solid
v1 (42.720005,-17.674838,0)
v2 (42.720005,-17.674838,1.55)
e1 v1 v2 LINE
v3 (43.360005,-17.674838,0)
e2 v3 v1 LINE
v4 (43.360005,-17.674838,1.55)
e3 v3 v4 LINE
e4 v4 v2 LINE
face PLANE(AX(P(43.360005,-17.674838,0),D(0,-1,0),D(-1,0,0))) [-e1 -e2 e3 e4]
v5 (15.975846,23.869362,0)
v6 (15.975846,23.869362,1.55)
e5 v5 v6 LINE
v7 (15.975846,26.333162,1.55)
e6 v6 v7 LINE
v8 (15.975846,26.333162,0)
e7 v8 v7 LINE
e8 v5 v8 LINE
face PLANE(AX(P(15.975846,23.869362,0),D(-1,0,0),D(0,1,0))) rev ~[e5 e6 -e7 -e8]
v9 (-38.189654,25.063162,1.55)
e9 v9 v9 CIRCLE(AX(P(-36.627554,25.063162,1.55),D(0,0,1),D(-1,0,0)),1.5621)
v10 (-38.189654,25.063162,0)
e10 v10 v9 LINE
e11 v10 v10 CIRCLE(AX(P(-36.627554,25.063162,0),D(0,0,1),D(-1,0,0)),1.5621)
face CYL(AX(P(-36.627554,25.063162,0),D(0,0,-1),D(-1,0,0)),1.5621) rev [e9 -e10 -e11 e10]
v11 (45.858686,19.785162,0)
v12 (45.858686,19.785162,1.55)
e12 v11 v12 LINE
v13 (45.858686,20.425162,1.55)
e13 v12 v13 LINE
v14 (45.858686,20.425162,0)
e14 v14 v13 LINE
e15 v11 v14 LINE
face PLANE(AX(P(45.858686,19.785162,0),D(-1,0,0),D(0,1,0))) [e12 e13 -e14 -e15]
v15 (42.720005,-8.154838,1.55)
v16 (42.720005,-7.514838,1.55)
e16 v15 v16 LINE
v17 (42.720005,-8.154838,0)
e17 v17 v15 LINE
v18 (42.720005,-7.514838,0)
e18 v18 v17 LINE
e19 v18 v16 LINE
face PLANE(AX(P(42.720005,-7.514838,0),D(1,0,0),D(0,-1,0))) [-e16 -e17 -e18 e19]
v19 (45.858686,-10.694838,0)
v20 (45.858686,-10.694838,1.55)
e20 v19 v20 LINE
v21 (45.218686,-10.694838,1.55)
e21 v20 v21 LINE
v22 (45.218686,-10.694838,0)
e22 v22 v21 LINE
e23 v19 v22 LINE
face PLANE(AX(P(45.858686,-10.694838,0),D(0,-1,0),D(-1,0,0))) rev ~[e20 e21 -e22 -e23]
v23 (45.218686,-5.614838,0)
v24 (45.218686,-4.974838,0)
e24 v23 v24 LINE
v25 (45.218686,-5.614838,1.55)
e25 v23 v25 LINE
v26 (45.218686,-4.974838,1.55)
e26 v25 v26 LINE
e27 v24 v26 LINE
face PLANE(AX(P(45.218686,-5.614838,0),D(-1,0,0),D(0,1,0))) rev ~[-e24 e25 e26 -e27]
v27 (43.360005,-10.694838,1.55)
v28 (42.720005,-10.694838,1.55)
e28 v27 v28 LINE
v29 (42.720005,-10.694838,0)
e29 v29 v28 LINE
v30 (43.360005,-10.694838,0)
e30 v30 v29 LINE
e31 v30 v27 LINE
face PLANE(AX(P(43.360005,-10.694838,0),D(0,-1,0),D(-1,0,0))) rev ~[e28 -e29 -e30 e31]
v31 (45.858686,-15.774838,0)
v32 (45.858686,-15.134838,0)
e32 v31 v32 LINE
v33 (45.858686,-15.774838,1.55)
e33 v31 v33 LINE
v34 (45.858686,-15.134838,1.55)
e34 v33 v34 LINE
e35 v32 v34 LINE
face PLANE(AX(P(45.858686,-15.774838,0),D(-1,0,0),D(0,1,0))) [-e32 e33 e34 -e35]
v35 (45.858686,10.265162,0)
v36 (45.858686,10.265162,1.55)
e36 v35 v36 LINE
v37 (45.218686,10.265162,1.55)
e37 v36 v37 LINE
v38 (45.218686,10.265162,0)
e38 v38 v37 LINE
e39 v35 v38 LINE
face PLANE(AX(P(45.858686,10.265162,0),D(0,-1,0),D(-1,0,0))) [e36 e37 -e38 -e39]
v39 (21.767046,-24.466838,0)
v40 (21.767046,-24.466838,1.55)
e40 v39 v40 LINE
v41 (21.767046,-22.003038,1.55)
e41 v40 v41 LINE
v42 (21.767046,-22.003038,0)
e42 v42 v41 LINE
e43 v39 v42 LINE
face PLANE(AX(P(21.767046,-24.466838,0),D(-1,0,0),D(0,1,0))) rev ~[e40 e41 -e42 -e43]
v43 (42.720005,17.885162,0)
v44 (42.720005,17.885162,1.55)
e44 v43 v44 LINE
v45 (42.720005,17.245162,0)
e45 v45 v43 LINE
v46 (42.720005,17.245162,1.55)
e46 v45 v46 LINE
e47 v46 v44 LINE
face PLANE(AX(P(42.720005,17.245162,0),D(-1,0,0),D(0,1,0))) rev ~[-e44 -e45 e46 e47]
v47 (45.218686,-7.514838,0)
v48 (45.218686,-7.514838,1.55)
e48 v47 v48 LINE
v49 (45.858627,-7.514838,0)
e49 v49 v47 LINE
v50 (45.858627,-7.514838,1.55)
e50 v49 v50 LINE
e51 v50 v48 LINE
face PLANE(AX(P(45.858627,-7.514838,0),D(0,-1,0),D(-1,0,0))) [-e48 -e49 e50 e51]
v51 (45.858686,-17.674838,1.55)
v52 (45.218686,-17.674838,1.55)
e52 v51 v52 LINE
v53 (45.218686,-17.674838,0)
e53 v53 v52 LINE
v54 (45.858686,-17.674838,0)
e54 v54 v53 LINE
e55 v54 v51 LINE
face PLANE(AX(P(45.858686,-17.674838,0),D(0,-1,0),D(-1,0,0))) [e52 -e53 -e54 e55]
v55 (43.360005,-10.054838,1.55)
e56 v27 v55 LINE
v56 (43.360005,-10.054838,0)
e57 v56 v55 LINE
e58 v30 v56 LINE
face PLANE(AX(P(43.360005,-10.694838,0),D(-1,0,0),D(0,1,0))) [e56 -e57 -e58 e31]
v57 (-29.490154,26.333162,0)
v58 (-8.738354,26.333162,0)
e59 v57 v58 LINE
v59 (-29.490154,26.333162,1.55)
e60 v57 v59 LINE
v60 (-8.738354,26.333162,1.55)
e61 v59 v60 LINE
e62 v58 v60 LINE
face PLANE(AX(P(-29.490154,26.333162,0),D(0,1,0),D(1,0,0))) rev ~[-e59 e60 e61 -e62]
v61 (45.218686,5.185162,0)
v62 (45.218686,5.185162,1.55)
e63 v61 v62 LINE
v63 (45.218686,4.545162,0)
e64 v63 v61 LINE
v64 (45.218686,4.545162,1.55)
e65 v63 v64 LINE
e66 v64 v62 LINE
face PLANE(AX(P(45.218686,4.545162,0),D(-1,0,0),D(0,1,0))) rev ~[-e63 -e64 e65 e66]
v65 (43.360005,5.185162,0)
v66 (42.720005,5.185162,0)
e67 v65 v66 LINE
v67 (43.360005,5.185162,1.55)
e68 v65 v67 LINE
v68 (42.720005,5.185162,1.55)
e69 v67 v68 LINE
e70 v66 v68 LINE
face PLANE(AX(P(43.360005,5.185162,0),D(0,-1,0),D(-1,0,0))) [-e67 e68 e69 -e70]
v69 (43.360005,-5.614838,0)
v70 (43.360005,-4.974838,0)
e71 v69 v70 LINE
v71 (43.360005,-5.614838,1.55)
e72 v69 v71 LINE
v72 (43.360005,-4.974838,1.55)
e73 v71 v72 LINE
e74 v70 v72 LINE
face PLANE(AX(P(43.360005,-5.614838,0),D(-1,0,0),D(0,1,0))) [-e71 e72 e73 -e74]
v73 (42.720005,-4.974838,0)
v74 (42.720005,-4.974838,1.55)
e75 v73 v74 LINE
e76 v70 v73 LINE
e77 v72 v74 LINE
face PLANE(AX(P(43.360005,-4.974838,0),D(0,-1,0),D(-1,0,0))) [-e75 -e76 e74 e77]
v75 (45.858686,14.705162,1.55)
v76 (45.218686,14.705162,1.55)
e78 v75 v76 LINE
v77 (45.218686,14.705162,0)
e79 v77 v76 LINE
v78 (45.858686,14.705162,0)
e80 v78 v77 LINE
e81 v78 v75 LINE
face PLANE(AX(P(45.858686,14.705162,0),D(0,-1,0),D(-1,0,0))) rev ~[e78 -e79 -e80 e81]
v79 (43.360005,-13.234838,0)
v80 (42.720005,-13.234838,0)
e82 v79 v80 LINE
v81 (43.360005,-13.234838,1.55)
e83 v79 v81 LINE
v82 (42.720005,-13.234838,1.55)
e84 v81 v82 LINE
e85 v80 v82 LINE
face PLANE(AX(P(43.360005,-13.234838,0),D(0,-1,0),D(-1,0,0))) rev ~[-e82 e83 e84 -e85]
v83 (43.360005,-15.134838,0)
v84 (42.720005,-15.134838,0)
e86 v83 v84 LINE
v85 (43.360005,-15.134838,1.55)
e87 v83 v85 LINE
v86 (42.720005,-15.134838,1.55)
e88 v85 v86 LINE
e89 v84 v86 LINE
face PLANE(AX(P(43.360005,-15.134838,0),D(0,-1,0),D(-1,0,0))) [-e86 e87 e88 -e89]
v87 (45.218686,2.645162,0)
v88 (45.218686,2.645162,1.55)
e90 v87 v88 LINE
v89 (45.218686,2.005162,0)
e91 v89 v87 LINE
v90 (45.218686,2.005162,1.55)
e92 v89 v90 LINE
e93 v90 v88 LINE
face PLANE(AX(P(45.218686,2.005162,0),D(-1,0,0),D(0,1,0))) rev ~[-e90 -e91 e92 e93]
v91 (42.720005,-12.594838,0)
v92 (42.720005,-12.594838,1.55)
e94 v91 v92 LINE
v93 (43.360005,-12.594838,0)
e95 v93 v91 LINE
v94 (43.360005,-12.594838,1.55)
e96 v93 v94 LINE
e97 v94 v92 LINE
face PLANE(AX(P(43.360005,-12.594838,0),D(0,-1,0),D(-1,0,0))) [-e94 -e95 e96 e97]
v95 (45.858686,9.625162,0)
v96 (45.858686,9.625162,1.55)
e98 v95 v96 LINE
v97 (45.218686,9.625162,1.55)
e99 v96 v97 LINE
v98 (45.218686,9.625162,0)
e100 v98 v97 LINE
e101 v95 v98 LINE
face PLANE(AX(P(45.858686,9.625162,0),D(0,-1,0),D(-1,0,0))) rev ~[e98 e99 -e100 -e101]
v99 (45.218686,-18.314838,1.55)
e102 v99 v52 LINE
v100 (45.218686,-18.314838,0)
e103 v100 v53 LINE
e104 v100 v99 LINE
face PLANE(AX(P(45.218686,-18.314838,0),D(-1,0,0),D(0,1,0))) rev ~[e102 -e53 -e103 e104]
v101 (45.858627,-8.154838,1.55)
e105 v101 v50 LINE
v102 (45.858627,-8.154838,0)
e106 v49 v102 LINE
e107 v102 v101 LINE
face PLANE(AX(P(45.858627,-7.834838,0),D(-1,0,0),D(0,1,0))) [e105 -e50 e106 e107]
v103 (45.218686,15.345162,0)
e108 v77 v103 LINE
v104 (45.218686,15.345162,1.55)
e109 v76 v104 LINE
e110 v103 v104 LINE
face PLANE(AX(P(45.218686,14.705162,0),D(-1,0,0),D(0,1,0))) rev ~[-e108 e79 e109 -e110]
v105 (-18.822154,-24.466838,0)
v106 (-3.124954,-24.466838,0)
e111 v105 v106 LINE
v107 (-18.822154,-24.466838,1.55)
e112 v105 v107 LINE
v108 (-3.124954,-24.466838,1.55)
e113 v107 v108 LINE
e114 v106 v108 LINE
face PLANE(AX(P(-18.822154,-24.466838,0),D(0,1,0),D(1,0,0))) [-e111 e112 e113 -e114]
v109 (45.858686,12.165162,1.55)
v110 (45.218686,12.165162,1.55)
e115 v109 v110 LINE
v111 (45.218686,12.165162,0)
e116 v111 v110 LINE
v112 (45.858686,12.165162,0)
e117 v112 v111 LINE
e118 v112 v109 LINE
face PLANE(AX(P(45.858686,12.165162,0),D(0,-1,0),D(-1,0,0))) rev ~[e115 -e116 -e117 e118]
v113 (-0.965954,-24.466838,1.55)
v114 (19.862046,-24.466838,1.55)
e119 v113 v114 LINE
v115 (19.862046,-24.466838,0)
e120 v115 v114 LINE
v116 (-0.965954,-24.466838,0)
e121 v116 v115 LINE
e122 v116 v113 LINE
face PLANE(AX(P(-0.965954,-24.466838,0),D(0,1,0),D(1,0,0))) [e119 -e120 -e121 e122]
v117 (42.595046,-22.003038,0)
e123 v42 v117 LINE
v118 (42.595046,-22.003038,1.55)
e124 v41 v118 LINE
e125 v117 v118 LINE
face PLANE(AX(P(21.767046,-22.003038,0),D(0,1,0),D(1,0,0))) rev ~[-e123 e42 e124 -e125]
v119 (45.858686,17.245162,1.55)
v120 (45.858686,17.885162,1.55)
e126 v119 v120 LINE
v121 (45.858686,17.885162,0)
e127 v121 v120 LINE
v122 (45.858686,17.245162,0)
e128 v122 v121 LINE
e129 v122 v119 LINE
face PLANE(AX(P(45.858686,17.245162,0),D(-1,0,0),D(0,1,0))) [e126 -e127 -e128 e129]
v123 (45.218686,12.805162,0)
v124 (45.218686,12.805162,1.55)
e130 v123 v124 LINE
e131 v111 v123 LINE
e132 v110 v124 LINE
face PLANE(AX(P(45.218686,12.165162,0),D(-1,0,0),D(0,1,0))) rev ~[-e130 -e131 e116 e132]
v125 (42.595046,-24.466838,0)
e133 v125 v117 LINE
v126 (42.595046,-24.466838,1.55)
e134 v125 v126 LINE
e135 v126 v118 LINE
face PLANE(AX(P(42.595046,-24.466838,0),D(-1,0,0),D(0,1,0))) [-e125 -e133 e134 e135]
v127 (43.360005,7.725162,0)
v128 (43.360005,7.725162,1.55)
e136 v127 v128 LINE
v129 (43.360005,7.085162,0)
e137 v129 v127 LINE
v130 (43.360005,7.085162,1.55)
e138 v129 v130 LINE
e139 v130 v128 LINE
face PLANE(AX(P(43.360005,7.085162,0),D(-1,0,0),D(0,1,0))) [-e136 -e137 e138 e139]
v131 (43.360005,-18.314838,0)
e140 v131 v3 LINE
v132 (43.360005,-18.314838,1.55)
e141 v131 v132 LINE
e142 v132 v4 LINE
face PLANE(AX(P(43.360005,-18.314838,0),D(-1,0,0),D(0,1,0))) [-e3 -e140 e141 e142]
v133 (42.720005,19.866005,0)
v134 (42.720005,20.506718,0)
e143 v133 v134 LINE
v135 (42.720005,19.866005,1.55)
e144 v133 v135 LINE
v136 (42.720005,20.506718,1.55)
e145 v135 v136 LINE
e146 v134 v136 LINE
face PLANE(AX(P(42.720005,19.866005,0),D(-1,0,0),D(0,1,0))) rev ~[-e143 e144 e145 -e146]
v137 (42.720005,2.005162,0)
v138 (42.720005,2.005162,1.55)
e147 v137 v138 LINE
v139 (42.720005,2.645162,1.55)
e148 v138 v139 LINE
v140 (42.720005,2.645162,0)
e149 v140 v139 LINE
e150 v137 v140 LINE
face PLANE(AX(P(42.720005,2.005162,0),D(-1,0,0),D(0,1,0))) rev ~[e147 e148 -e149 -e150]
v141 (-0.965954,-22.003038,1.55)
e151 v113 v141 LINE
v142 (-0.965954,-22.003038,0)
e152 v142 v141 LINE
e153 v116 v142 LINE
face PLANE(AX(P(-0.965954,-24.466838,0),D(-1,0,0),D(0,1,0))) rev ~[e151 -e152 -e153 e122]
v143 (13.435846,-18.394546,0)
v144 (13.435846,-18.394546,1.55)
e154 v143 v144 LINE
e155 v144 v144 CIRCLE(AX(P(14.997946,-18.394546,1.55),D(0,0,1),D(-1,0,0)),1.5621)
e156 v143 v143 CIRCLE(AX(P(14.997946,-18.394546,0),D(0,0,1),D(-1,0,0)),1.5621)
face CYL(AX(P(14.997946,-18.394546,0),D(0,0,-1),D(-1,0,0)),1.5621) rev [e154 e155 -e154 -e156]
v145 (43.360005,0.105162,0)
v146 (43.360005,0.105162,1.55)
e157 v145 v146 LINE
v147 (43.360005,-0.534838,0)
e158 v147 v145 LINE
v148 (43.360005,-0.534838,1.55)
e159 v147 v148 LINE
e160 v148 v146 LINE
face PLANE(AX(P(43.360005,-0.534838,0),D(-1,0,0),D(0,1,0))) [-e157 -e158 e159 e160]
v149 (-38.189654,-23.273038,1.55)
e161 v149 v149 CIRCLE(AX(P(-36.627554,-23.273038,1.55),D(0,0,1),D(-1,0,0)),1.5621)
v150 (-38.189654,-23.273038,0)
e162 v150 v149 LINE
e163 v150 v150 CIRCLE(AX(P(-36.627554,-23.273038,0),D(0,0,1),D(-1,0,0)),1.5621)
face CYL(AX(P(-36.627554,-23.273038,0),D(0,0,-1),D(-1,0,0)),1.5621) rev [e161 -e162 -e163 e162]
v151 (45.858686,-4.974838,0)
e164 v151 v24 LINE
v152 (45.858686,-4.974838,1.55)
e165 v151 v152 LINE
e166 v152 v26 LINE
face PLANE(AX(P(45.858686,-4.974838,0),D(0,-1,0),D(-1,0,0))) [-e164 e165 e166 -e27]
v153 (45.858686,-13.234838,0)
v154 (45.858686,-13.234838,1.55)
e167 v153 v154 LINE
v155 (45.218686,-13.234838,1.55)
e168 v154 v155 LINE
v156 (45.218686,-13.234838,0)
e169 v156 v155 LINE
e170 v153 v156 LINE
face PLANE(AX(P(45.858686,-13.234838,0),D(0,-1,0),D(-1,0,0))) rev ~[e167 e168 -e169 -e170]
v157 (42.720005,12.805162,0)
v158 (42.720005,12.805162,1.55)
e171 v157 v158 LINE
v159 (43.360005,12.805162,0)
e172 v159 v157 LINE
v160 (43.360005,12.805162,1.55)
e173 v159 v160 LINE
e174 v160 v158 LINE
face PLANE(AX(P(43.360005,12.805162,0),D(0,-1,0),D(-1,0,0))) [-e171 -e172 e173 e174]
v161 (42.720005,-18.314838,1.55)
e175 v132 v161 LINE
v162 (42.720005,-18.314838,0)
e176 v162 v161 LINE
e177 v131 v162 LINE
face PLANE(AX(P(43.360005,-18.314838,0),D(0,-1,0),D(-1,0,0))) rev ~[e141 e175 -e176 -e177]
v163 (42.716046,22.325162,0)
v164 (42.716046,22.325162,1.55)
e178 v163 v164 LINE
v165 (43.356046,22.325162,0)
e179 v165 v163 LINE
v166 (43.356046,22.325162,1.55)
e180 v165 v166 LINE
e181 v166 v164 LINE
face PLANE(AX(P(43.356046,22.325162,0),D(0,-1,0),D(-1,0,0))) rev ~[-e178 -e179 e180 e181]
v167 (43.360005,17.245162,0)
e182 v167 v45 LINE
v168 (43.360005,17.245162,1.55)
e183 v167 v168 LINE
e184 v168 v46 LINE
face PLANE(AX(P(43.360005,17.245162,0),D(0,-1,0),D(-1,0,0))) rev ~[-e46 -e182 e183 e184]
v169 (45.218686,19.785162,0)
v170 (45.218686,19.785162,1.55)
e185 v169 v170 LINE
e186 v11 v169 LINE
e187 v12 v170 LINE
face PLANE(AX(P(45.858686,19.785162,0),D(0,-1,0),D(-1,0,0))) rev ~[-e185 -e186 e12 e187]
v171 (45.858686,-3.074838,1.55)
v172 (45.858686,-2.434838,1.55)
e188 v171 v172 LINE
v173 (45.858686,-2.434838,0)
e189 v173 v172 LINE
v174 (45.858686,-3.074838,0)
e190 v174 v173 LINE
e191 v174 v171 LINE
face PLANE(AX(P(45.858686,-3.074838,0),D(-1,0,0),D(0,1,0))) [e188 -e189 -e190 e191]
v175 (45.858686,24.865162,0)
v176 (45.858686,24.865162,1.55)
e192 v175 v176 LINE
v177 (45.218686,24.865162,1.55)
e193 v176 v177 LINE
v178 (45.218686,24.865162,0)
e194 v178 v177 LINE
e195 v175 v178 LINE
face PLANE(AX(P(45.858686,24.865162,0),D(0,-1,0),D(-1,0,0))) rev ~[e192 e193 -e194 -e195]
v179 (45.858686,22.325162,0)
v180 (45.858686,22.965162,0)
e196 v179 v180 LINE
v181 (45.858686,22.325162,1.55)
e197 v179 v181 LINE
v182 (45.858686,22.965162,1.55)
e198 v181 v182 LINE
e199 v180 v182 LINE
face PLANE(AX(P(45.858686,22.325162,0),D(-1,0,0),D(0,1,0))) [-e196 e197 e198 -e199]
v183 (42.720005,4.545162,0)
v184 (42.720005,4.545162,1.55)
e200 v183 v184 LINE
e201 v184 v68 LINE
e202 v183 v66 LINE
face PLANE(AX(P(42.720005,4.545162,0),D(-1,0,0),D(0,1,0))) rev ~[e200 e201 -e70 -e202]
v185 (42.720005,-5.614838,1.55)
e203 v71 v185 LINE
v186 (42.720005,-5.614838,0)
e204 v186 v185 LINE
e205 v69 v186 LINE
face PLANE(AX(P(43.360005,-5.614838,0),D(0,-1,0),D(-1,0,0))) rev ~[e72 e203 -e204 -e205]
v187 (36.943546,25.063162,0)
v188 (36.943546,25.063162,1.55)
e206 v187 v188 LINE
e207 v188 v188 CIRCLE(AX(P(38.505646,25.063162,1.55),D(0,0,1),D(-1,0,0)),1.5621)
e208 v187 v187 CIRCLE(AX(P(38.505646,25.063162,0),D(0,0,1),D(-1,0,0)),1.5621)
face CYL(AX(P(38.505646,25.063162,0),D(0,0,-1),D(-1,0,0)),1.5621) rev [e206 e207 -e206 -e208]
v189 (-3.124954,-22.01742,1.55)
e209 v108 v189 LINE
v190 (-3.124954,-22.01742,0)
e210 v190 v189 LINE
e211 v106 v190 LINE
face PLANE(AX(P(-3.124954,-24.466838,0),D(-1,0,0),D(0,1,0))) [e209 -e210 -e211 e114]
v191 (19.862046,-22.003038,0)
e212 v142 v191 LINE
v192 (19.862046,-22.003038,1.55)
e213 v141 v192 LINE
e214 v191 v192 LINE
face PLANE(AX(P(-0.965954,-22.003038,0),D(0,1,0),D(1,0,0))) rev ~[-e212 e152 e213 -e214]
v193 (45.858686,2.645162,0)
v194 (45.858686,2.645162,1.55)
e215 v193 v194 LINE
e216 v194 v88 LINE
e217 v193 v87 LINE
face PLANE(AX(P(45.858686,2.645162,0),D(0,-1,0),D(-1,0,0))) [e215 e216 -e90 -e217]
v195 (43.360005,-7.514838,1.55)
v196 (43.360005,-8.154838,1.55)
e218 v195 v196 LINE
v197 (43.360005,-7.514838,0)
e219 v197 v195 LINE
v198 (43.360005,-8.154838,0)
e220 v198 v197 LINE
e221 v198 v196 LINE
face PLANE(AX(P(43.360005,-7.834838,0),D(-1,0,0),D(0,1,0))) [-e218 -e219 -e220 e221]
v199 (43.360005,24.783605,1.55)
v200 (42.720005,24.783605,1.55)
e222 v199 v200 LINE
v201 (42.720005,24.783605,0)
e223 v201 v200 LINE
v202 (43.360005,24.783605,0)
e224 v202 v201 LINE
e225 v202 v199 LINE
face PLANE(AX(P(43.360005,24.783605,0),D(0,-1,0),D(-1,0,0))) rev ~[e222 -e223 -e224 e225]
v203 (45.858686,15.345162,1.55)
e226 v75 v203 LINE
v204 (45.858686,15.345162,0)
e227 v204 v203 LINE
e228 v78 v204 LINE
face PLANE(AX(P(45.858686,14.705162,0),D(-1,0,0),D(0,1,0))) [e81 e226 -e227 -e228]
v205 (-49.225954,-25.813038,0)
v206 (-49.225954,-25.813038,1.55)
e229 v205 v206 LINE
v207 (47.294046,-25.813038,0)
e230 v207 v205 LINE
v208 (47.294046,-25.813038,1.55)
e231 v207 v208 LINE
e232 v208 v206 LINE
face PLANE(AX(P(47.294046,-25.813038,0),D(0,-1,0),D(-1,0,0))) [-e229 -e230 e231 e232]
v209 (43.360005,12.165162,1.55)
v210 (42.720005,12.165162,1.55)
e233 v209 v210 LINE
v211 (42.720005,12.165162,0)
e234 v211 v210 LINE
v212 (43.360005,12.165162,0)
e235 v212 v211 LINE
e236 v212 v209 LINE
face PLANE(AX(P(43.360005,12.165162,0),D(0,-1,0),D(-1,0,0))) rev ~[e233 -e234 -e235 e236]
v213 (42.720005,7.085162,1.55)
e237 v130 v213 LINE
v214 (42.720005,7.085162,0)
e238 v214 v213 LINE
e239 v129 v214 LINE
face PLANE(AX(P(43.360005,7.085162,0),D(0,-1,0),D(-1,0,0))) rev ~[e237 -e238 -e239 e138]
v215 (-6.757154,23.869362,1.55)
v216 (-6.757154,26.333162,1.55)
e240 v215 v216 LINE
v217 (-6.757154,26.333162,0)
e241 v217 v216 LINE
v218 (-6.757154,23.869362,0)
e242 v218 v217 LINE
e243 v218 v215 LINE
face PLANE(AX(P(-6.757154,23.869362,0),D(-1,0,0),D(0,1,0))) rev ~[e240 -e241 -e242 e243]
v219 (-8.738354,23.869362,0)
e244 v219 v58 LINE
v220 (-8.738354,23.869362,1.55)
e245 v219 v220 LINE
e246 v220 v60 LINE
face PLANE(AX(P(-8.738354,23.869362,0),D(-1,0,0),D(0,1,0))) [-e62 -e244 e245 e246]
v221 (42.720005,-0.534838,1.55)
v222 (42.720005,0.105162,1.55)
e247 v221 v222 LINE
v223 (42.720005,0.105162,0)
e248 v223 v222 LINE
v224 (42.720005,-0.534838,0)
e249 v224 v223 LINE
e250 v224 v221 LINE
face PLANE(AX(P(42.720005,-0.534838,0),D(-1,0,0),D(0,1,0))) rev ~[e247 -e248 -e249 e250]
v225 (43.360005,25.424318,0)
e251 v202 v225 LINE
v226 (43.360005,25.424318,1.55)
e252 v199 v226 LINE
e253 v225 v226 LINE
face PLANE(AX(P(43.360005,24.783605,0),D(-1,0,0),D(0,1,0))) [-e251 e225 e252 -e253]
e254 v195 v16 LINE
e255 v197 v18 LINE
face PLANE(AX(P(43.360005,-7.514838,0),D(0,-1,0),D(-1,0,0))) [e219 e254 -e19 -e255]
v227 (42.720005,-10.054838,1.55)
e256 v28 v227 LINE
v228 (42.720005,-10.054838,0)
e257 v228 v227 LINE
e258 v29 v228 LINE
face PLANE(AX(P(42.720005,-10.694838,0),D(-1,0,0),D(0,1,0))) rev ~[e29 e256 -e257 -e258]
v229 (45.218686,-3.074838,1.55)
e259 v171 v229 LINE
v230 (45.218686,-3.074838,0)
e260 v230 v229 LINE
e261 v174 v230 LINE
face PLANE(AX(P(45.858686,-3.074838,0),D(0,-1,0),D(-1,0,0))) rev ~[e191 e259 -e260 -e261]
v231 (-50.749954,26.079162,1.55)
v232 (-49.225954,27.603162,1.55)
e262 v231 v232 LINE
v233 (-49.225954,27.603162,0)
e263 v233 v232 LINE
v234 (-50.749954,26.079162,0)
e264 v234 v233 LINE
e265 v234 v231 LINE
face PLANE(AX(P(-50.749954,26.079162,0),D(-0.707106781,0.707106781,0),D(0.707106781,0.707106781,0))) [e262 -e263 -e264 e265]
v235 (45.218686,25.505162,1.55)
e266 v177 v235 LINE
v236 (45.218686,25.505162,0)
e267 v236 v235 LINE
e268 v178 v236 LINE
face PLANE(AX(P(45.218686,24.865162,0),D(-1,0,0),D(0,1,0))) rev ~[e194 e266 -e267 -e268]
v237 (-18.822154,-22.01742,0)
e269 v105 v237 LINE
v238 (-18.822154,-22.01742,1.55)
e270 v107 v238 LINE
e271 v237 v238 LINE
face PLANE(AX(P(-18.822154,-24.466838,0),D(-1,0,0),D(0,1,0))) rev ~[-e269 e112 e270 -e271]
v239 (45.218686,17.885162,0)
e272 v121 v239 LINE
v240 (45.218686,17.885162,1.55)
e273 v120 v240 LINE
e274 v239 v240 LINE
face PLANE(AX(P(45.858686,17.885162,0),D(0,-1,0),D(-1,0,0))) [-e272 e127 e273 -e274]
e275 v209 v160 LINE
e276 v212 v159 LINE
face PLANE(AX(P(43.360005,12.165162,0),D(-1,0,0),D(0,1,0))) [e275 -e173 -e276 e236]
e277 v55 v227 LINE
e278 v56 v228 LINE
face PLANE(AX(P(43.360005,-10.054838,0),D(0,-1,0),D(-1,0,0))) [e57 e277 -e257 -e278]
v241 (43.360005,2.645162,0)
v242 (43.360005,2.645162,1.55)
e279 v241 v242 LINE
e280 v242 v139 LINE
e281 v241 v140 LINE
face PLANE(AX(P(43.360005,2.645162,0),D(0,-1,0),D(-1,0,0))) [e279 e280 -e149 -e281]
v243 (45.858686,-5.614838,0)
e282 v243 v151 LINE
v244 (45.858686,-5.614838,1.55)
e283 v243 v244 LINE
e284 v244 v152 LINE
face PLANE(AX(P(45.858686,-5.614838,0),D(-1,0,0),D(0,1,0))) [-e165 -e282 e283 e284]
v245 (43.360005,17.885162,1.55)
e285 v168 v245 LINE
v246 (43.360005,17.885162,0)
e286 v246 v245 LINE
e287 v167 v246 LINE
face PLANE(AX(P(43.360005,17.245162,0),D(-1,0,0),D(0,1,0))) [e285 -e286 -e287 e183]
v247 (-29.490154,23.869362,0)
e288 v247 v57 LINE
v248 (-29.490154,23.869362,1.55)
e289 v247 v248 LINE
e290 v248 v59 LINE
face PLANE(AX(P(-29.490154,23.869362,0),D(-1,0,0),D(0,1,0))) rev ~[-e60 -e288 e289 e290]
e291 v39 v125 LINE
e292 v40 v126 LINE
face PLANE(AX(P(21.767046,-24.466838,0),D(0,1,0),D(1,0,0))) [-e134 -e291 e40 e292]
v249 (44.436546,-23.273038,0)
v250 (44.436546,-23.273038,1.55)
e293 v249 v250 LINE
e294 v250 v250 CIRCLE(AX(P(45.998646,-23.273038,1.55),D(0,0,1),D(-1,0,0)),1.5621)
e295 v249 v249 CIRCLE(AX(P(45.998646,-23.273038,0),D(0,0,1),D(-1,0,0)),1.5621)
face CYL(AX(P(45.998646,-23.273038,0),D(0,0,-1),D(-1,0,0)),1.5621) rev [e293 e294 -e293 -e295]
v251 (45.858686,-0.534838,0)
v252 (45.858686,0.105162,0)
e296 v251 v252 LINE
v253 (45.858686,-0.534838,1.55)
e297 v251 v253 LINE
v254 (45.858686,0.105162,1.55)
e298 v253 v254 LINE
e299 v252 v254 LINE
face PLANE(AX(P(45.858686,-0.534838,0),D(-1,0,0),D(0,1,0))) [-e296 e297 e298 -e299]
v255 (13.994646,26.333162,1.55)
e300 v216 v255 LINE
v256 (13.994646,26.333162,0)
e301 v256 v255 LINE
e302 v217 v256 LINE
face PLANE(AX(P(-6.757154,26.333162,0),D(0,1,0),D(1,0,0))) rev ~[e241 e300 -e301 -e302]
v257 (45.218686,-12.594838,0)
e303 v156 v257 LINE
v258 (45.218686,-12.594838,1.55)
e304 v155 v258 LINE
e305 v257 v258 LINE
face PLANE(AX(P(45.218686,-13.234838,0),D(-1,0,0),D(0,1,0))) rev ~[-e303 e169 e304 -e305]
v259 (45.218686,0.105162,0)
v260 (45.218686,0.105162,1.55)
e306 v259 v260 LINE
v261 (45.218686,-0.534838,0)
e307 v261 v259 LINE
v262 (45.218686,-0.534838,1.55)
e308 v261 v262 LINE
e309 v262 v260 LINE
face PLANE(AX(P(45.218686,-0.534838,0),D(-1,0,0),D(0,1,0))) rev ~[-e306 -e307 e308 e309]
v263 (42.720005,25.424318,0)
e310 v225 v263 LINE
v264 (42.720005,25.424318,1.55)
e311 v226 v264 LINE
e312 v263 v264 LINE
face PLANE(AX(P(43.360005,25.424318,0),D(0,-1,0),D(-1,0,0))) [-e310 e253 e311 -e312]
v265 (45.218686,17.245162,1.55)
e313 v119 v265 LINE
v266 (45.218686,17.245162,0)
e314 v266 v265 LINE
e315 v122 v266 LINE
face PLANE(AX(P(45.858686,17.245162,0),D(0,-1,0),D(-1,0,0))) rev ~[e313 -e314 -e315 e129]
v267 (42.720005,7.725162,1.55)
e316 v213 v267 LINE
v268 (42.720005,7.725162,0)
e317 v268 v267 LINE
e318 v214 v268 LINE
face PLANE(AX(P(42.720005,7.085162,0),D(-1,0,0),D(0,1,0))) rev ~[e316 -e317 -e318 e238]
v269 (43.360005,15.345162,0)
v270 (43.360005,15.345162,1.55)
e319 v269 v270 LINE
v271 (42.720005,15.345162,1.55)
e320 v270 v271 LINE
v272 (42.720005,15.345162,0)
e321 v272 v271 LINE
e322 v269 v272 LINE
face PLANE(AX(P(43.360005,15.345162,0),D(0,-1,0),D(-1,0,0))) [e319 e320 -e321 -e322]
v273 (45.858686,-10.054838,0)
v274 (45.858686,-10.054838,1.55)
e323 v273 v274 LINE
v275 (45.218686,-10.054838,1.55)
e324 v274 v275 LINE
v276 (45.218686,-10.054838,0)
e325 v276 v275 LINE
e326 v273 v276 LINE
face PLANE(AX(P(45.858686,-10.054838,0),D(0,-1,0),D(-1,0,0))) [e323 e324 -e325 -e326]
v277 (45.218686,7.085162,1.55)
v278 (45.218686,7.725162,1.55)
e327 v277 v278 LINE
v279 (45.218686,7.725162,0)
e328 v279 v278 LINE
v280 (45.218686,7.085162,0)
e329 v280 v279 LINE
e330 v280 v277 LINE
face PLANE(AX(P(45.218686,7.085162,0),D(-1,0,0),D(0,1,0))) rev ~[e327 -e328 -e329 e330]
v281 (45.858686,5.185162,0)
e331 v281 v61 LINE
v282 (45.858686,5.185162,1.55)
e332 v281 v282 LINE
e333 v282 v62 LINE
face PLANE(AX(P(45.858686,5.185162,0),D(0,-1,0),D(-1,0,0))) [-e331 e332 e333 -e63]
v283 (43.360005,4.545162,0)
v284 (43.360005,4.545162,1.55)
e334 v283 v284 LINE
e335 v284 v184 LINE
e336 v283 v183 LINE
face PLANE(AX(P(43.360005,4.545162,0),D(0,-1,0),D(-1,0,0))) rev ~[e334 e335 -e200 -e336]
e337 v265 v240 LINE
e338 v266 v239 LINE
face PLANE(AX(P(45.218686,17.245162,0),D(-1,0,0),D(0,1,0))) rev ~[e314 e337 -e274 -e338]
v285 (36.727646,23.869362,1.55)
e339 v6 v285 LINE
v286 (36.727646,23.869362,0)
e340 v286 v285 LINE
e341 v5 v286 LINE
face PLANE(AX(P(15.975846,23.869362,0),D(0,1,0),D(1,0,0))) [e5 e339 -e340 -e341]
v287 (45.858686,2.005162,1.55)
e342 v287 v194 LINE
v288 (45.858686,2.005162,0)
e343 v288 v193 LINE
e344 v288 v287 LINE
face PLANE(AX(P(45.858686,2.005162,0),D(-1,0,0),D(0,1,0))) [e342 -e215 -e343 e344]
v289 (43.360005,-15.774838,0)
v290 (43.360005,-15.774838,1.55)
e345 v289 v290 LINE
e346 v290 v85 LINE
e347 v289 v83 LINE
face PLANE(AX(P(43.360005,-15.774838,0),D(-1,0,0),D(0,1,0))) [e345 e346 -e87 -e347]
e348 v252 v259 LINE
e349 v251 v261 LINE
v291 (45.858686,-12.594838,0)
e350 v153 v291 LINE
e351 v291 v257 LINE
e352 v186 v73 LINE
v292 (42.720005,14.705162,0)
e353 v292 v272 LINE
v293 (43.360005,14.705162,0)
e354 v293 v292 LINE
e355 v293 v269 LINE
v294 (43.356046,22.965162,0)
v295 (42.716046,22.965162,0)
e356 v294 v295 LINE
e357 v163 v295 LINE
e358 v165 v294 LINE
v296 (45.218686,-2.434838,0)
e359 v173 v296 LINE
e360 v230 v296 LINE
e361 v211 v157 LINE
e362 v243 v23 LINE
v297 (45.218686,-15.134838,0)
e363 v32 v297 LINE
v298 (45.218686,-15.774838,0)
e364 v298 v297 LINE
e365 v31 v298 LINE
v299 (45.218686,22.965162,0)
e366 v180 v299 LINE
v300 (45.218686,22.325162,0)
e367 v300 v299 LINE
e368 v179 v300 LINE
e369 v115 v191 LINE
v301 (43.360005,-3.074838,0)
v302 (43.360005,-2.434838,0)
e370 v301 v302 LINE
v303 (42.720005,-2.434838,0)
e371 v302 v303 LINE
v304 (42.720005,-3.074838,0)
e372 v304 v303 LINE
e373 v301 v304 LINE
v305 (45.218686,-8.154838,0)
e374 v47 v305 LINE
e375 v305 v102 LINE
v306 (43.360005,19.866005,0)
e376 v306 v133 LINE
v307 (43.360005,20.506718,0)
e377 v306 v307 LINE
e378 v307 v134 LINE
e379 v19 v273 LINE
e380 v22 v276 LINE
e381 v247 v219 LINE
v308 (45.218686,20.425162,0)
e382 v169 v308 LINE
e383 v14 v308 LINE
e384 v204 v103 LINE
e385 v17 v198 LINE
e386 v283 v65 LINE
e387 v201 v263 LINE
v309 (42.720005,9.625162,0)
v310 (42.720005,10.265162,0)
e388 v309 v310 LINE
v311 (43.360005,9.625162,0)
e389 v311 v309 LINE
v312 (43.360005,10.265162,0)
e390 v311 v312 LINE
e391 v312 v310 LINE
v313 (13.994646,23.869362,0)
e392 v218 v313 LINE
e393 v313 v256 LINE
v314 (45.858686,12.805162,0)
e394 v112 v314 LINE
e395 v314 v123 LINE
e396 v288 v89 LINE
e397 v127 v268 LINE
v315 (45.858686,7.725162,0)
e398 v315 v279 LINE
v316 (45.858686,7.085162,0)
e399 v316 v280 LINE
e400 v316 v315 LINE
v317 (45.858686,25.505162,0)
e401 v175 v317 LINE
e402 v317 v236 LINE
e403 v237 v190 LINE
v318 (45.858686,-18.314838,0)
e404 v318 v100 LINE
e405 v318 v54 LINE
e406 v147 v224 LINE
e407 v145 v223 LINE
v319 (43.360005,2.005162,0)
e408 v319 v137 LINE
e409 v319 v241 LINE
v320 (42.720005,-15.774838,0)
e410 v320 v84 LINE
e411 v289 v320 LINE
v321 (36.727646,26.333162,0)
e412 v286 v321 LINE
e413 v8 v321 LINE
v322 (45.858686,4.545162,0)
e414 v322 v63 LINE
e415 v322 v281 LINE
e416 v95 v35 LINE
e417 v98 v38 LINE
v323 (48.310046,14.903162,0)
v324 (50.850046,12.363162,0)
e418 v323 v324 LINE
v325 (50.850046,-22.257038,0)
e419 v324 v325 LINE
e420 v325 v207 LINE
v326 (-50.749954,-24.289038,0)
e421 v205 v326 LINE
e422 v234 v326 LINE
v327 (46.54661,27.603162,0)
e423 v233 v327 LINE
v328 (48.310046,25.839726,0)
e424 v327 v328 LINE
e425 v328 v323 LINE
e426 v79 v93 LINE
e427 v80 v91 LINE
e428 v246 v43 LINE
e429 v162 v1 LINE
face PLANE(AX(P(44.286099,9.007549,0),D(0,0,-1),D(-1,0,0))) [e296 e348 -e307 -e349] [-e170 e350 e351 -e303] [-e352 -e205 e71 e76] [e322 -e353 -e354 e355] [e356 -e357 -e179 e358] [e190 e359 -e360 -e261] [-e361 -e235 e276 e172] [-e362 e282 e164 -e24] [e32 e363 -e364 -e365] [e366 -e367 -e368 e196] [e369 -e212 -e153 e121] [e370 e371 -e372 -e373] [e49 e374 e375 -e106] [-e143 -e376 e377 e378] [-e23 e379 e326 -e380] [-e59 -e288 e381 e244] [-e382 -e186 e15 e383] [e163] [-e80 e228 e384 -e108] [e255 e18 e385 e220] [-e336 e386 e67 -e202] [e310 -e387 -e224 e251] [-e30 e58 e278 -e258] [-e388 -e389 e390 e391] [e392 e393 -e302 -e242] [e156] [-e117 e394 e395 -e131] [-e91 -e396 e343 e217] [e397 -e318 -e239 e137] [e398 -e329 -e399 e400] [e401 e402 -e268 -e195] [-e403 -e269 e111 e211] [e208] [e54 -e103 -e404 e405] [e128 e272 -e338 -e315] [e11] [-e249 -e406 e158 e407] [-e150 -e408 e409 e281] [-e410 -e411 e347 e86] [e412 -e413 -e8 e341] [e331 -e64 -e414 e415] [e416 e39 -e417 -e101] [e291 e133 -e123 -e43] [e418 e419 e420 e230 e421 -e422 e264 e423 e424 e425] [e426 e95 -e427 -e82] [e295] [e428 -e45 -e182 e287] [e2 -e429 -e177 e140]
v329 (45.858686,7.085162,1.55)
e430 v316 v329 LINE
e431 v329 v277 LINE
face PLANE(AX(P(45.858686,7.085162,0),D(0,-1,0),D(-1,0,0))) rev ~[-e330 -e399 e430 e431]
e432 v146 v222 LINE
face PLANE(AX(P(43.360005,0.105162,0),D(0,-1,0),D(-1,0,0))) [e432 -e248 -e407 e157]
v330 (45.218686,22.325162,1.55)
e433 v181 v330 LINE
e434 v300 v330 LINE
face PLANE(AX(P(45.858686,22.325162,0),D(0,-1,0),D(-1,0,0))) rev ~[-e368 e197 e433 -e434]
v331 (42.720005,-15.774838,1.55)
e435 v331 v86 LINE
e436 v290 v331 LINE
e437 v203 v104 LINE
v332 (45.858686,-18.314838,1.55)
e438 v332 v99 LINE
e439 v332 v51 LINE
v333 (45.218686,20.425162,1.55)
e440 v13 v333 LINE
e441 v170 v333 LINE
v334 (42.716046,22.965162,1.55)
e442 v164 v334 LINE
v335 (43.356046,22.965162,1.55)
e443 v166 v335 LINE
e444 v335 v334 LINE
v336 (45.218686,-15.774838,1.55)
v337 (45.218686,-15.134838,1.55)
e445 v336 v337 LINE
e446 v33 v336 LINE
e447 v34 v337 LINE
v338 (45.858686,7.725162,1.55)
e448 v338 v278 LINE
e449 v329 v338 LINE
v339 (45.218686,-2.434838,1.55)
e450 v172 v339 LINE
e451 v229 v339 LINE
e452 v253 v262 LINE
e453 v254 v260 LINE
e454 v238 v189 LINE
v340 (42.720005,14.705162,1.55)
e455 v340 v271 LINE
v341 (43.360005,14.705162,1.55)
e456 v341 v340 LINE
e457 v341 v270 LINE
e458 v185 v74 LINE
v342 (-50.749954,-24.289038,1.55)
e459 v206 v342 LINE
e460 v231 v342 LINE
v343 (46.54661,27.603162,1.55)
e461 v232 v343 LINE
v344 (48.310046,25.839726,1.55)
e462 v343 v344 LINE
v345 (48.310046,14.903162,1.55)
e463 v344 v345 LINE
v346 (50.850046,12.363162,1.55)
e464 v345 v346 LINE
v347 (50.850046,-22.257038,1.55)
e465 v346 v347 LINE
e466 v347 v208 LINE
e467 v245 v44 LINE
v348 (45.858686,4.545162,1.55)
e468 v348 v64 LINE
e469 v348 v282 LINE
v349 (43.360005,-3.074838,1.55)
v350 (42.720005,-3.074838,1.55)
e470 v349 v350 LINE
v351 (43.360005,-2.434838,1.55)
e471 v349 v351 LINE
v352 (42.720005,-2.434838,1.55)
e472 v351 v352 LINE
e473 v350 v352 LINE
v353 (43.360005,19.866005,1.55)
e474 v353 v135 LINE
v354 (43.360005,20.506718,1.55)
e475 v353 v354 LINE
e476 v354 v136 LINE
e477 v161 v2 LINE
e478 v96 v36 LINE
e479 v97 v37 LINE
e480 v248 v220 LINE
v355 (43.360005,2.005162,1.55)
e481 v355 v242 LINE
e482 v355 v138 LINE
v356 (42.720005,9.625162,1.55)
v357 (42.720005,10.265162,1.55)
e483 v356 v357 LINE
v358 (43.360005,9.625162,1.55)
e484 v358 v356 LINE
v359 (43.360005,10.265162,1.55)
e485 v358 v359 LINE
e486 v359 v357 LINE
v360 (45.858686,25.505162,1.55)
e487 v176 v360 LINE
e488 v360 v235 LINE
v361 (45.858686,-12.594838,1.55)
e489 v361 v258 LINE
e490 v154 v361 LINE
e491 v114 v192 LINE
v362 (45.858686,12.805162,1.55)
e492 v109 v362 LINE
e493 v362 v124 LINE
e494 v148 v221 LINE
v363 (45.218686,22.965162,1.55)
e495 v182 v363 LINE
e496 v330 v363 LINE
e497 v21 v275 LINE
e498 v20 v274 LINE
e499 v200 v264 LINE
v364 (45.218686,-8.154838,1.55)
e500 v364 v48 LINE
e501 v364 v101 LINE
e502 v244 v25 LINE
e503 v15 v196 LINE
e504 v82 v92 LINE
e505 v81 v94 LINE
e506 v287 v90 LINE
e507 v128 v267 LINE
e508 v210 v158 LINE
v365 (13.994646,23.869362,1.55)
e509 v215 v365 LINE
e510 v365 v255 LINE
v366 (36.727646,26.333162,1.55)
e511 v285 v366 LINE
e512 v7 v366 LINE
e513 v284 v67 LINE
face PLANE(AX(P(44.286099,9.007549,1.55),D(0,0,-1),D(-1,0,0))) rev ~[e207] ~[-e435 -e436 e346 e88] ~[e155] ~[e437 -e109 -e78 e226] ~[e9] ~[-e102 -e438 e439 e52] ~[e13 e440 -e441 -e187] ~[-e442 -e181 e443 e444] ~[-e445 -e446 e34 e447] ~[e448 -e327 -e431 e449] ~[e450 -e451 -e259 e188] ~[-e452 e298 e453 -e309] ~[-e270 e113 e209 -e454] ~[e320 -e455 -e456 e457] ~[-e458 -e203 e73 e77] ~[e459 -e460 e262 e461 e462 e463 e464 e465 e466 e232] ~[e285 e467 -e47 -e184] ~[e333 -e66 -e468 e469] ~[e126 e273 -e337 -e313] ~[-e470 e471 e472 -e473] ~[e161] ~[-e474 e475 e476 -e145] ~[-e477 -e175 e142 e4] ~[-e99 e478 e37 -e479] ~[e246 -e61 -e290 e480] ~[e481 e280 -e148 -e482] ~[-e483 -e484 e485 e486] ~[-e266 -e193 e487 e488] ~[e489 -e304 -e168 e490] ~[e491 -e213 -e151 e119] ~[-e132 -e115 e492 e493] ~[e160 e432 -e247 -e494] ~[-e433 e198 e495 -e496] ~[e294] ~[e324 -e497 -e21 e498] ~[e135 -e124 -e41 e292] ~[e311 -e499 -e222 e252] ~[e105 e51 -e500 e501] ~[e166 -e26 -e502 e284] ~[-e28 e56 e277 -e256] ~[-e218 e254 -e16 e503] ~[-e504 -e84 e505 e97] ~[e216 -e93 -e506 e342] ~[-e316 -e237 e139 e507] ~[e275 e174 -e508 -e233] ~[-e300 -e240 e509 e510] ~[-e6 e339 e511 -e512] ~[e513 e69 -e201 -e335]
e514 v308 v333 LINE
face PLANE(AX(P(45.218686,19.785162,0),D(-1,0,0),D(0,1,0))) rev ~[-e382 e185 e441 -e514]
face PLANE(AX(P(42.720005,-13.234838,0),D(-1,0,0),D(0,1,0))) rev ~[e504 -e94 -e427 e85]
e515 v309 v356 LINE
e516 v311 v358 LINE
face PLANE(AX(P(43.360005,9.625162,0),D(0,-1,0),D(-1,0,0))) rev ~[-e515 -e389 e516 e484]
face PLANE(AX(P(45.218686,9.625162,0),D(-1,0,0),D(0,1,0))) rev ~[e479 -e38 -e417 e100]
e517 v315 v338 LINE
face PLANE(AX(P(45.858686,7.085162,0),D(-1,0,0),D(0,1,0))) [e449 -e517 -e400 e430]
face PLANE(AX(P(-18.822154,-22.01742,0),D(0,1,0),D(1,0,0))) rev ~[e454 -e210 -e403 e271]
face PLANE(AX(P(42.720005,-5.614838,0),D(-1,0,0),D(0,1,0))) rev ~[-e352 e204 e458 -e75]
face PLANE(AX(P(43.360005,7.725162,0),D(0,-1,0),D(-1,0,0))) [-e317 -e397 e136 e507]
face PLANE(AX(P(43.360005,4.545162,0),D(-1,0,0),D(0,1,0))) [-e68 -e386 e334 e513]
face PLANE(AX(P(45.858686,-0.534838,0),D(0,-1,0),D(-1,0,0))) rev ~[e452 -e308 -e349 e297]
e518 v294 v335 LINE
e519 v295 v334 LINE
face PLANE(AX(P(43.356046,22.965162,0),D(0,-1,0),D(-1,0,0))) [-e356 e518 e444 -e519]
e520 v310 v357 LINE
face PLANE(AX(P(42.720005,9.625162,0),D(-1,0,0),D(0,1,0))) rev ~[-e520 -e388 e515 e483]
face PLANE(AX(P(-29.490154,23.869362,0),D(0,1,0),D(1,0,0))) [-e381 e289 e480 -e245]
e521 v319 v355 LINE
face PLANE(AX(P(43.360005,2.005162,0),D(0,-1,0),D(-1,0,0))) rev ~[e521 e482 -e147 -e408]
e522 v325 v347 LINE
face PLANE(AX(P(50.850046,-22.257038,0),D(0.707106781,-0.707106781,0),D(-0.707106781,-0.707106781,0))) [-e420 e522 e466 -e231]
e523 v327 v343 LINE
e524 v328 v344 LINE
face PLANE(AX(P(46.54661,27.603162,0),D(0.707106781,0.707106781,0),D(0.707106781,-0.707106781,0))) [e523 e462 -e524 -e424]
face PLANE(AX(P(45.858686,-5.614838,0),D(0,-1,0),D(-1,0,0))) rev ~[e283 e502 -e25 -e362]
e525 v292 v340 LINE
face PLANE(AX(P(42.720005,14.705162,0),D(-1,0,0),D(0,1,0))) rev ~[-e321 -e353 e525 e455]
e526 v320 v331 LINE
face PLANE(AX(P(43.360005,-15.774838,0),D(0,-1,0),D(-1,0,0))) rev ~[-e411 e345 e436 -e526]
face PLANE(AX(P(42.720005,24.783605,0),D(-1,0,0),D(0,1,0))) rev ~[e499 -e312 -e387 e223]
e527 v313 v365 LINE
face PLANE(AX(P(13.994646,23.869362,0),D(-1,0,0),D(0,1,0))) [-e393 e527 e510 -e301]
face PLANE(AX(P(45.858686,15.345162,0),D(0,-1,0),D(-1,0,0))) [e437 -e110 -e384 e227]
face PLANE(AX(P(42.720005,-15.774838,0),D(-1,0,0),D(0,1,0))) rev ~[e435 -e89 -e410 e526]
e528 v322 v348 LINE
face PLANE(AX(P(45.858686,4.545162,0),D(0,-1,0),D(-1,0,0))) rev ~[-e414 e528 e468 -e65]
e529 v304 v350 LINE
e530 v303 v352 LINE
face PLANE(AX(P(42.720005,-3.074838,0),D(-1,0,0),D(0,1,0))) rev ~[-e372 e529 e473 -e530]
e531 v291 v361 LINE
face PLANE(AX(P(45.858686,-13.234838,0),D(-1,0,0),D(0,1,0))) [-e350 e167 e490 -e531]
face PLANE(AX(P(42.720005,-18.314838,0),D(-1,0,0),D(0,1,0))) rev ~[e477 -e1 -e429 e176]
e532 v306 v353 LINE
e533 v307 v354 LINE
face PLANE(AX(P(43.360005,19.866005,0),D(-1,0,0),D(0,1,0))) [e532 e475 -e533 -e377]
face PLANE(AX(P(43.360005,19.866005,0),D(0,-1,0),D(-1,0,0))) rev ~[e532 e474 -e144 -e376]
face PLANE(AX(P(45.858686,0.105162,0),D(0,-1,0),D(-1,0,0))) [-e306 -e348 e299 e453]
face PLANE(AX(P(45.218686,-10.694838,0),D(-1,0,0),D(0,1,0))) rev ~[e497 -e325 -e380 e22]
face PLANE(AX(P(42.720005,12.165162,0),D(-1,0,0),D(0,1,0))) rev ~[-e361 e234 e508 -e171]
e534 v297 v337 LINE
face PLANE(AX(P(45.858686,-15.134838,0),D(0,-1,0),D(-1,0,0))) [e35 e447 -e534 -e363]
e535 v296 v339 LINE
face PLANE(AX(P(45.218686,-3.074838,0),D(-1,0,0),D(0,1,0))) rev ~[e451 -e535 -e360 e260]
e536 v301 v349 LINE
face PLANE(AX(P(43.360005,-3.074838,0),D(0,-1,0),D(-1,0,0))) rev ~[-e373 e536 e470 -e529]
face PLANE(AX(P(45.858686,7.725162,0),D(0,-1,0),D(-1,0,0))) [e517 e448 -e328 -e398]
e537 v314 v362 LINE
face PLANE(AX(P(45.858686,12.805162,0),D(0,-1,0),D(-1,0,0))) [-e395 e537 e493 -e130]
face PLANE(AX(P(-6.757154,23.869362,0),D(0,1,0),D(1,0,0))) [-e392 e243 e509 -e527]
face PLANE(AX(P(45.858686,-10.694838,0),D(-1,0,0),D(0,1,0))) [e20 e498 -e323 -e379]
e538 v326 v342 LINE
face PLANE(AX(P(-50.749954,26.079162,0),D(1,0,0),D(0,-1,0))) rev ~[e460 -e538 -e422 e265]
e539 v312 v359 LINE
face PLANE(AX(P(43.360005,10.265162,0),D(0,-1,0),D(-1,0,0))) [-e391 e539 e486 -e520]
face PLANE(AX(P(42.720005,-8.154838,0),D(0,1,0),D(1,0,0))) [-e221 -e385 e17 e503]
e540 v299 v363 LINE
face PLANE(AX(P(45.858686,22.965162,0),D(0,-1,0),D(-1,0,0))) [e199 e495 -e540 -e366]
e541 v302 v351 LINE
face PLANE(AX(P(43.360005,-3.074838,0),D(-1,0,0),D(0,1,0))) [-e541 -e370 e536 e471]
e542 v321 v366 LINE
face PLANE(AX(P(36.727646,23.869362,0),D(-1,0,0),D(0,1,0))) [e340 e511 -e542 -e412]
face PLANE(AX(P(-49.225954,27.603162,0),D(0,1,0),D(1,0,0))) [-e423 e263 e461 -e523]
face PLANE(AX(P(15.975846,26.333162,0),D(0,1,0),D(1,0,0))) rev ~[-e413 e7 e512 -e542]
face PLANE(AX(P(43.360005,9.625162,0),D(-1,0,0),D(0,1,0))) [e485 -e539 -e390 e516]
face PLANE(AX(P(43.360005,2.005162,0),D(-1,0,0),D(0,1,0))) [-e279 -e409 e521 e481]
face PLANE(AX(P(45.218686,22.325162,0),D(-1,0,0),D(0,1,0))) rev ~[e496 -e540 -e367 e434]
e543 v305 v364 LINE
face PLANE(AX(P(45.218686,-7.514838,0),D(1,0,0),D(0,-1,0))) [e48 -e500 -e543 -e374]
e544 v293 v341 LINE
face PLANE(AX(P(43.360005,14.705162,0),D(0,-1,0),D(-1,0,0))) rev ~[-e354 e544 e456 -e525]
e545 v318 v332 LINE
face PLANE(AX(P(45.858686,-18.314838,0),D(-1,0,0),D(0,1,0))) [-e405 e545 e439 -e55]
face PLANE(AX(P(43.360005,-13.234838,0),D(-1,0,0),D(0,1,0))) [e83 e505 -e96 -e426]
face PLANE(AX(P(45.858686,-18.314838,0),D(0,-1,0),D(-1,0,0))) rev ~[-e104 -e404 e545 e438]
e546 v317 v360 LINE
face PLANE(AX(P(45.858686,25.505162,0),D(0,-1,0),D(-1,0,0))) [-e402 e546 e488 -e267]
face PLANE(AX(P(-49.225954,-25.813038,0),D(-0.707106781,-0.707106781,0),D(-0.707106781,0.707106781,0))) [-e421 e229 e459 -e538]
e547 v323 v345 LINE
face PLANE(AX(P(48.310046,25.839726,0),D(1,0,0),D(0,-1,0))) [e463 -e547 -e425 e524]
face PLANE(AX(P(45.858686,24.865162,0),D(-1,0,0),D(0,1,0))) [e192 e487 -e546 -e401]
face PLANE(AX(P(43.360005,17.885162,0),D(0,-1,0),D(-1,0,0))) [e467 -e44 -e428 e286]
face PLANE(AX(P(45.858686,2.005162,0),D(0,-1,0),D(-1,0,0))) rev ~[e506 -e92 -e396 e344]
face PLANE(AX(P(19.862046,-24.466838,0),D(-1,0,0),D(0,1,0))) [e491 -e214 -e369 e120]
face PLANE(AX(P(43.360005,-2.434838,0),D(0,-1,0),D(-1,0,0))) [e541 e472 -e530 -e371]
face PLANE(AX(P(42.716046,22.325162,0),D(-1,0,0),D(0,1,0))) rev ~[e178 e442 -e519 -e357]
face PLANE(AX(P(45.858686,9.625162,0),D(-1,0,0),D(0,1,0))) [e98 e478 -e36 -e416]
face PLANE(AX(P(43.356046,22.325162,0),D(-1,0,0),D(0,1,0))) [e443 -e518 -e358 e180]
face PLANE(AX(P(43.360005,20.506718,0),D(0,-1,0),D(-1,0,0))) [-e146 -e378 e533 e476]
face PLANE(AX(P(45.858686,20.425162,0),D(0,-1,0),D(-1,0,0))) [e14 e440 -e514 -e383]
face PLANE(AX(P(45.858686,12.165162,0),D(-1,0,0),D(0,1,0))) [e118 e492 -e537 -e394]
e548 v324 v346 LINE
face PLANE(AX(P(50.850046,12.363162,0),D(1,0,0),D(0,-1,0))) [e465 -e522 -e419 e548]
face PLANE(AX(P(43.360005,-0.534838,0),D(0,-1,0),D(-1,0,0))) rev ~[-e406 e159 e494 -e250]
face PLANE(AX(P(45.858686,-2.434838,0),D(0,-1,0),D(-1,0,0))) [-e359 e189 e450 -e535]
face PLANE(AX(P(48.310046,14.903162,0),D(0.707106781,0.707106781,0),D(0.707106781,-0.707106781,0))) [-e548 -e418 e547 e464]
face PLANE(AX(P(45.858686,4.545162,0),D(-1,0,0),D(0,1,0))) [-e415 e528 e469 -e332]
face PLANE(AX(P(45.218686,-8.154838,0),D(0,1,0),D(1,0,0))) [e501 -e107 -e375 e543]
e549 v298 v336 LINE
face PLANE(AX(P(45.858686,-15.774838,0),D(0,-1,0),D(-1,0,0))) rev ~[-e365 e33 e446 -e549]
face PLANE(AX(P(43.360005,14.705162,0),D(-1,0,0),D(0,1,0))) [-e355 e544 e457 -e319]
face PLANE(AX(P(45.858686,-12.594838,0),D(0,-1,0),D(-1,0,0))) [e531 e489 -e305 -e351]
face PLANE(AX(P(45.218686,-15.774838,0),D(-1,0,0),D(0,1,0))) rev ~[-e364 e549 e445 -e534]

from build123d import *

# Parameters (mm, degrees)
CROQUIS1_R              = 1.5621
CROQUIS1_W              = 20.7518
CROQUIS1_H              = 2.4638
CROQUIS1_W_2            = 4.9784
CROQUIS1_H_2            = 46.2788
CROQUIS1_W_3            = 20.828
CROQUIS1_W_4            = 15.6972
CROQUIS1_H_3            = 2.449418676
SALIENTE_EXTRUIR1_DEPTH = 1.55
CROQUIS2_W              = 5
CROQUIS2_H              = 46.2788
CORTAR_EXTRUIR1_DEPTH   = 95.55
CROQUIS3_W              = 0.64
CROQUIS3_H              = 0.64
SALIENTE_EXTRUIR2_DEPTH = 1.55
CROQUIS3_3_W            = 0.64
CROQUIS3_3_H            = 0.64
CROQUIS3_3_H_2          = 0.640713362
SALIENTE_EXTRUIR3_DEPTH = 1.55


with BuildPart() as part:
    # Croquis1 → Saliente-Extruir1 (new body)
    with BuildSketch(Plane.XY):
        Polygon((46.546610497, 27.60316171), (48.310045797, 25.83972641), (48.310045797, 14.90316171), (50.850045797, 12.36316171), (50.850045797, -22.25703829), (47.294045797, -25.81303829), (-49.225954203, -25.81303829), (-50.749954203, -24.28903829), (-50.749954203, -22.00303829), (-50.749954203, -12.85903829), (-50.749954203, 6.39416171), (-50.749954203, 18.33216171), (-50.749954203, 26.07916171), (-49.225954203, 27.60316171), align=None)
        with Locations(Location((-36.627554203, -23.27303829, 0), (0, 0, 180))):
            Circle(CROQUIS1_R, mode=Mode.SUBTRACT)
        with Locations(Location((14.997945797, -18.394545523, 0), (0, 0, 180))):
            Circle(CROQUIS1_R, mode=Mode.SUBTRACT)
        with Locations(Location((45.998645797, -23.27303829, 0), (0, 0, 180))):
            Circle(CROQUIS1_R, mode=Mode.SUBTRACT)
        with Locations(Location((-36.627554203, 25.06316171, 0), (0, 0, 180))):
            Circle(CROQUIS1_R, mode=Mode.SUBTRACT)
        with Locations(Location((38.505645797, 25.06316171, 0), (0, 0, 180))):
            Circle(CROQUIS1_R, mode=Mode.SUBTRACT)
        with Locations((-19.114254203, 25.10126171)):
            Rectangle(CROQUIS1_W, CROQUIS1_H, mode=Mode.SUBTRACT)
        with Locations((3.618745797, 25.10126171)):
            Rectangle(CROQUIS1_W, CROQUIS1_H, mode=Mode.SUBTRACT)
        with Locations((26.351745797, 25.10126171)):
            Rectangle(CROQUIS1_W, CROQUIS1_H, mode=Mode.SUBTRACT)
        with Locations((44.296845797, 3.24456171)):
            Rectangle(CROQUIS1_W_2, CROQUIS1_H_2, mode=Mode.SUBTRACT)
        with Locations((32.181045797, -23.23493829)):
            Rectangle(CROQUIS1_W_3, CROQUIS1_H, mode=Mode.SUBTRACT)
        with Locations((9.448045797, -23.23493829)):
            Rectangle(CROQUIS1_W_3, CROQUIS1_H, mode=Mode.SUBTRACT)
        with Locations((-10.973554203, -23.242128952)):
            Rectangle(CROQUIS1_W_4, CROQUIS1_H_3, mode=Mode.SUBTRACT)
    extrude(amount=SALIENTE_EXTRUIR1_DEPTH)

    # Croquis2 → Cortar-Extruir1 (cut)
    with BuildSketch(Plane(origin=(0, 0, 0), x_dir=(-1, 0, 0), z_dir=(0, 0, -1))):
        with Locations((-44.286045797, 3.24456171)):
            Rectangle(CROQUIS2_W, CROQUIS2_H)
    extrude(amount=-CORTAR_EXTRUIR1_DEPTH, mode=Mode.SUBTRACT)

    # Croquis3 → Saliente-Extruir2 (add)
    with BuildSketch(Plane(origin=(0, 0, 0), x_dir=(-1, 0, 0), z_dir=(0, 0, -1))):
        Polygon((-45.85862689, -7.83483829), (-46.786045797, -7.83483829), (-46.786045797, -19.89483829), (-41.786045797, -19.89483829), (-41.786045797, -7.83483829), (-42.720004997, -7.83483829), (-42.720004997, -8.15483829), (-43.360004997, -8.15483829), (-43.360004997, -7.83483829), (-45.218685961, -7.83483829), (-45.218685961, -8.15483829), (-45.85862689, -8.15483829), align=None)
        with Locations((-45.538685961, -17.99483829)):
            Rectangle(CROQUIS3_W, CROQUIS3_H, mode=Mode.SUBTRACT)
        with Locations((-43.040004997, -17.99483829)):
            Rectangle(CROQUIS3_W, CROQUIS3_H, mode=Mode.SUBTRACT)
        with Locations((-45.538685961, -15.45483829)):
            Rectangle(CROQUIS3_W, CROQUIS3_H, mode=Mode.SUBTRACT)
        with Locations((-45.538685961, -12.91483829)):
            Rectangle(CROQUIS3_W, CROQUIS3_H, mode=Mode.SUBTRACT)
        with Locations((-43.040004997, -15.45483829)):
            Rectangle(CROQUIS3_W, CROQUIS3_H, mode=Mode.SUBTRACT)
        with Locations((-43.040004997, -12.91483829)):
            Rectangle(CROQUIS3_W, CROQUIS3_H, mode=Mode.SUBTRACT)
        with Locations((-45.538685961, -10.37483829)):
            Rectangle(CROQUIS3_W, CROQUIS3_H, mode=Mode.SUBTRACT)
        with Locations((-43.040004997, -10.37483829)):
            Rectangle(CROQUIS3_W, CROQUIS3_H, mode=Mode.SUBTRACT)
    extrude(amount=-SALIENTE_EXTRUIR2_DEPTH)

    # Croquis3<3> → Saliente-Extruir3 (add)
    with BuildSketch(Plane(origin=(0, 0, 0), x_dir=(-1, 0, 0), z_dir=(0, 0, -1))):
        Polygon((-46.786045797, 26.38396171), (-46.786045797, -7.83483829), (-45.85862689, -7.83483829), (-45.85862689, -7.51483829), (-45.218685961, -7.51483829), (-45.218685961, -7.83483829), (-43.360004997, -7.83483829), (-43.360004997, -7.51483829), (-42.720004997, -7.51483829), (-42.720004997, -7.83483829), (-41.786045797, -7.83483829), (-41.786045797, 26.38396171), align=None)
        with Locations((-45.538685961, -5.29483829)):
            Rectangle(CROQUIS3_3_W, CROQUIS3_3_H, mode=Mode.SUBTRACT)
        with Locations((-45.538685961, -2.75483829)):
            Rectangle(CROQUIS3_3_W, CROQUIS3_3_H, mode=Mode.SUBTRACT)
        with Locations((-43.040004997, -5.29483829)):
            Rectangle(CROQUIS3_3_W, CROQUIS3_3_H, mode=Mode.SUBTRACT)
        with Locations((-43.040004997, -2.75483829)):
            Rectangle(CROQUIS3_3_W, CROQUIS3_3_H, mode=Mode.SUBTRACT)
        with Locations((-45.538685961, -0.21483829)):
            Rectangle(CROQUIS3_3_W, CROQUIS3_3_H, mode=Mode.SUBTRACT)
        with Locations((-43.040004997, -0.21483829)):
            Rectangle(CROQUIS3_3_W, CROQUIS3_3_H, mode=Mode.SUBTRACT)
        with Locations((-45.538685961, 2.32516171)):
            Rectangle(CROQUIS3_3_W, CROQUIS3_3_H, mode=Mode.SUBTRACT)
        with Locations((-43.040004997, 2.32516171)):
            Rectangle(CROQUIS3_3_W, CROQUIS3_3_H, mode=Mode.SUBTRACT)
        with Locations((-45.538685961, 4.86516171)):
            Rectangle(CROQUIS3_3_W, CROQUIS3_3_H, mode=Mode.SUBTRACT)
        with Locations((-45.538685961, 7.40516171)):
            Rectangle(CROQUIS3_3_W, CROQUIS3_3_H, mode=Mode.SUBTRACT)
        with Locations((-43.040004997, 4.86516171)):
            Rectangle(CROQUIS3_3_W, CROQUIS3_3_H, mode=Mode.SUBTRACT)
        with Locations((-43.040004997, 7.40516171)):
            Rectangle(CROQUIS3_3_W, CROQUIS3_3_H, mode=Mode.SUBTRACT)
        with Locations((-45.538685961, 9.94516171)):
            Rectangle(CROQUIS3_3_W, CROQUIS3_3_H, mode=Mode.SUBTRACT)
        with Locations((-43.040004997, 9.94516171)):
            Rectangle(CROQUIS3_3_W, CROQUIS3_3_H, mode=Mode.SUBTRACT)
        with Locations((-45.538685961, 12.48516171)):
            Rectangle(CROQUIS3_3_W, CROQUIS3_3_H, mode=Mode.SUBTRACT)
        with Locations((-43.040004997, 12.48516171)):
            Rectangle(CROQUIS3_3_W, CROQUIS3_3_H, mode=Mode.SUBTRACT)
        with Locations((-45.538685961, 15.02516171)):
            Rectangle(CROQUIS3_3_W, CROQUIS3_3_H, mode=Mode.SUBTRACT)
        with Locations((-45.538685961, 17.56516171)):
            Rectangle(CROQUIS3_3_W, CROQUIS3_3_H, mode=Mode.SUBTRACT)
        with Locations((-43.040004997, 15.02516171)):
            Rectangle(CROQUIS3_3_W, CROQUIS3_3_H, mode=Mode.SUBTRACT)
        with Locations((-43.040004997, 17.56516171)):
            Rectangle(CROQUIS3_3_W, CROQUIS3_3_H, mode=Mode.SUBTRACT)
        with Locations((-45.538685961, 20.10516171)):
            Rectangle(CROQUIS3_3_W, CROQUIS3_3_H, mode=Mode.SUBTRACT)
        with Locations((-43.040004997, 20.18636171)):
            Rectangle(CROQUIS3_3_W, CROQUIS3_3_H_2, mode=Mode.SUBTRACT)
        with Locations((-45.538685961, 22.64516171)):
            Rectangle(CROQUIS3_3_W, CROQUIS3_3_H, mode=Mode.SUBTRACT)
        with Locations((-43.036045797, 22.64516171)):
            Rectangle(CROQUIS3_3_W, CROQUIS3_3_H, mode=Mode.SUBTRACT)
        with Locations((-45.538685961, 25.18516171)):
            Rectangle(CROQUIS3_3_W, CROQUIS3_3_H, mode=Mode.SUBTRACT)
        with Locations((-43.040004997, 25.10396171)):
            Rectangle(CROQUIS3_3_W, CROQUIS3_3_H_2, mode=Mode.SUBTRACT)
    extrude(amount=-SALIENTE_EXTRUIR3_DEPTH)


solid = part.part
